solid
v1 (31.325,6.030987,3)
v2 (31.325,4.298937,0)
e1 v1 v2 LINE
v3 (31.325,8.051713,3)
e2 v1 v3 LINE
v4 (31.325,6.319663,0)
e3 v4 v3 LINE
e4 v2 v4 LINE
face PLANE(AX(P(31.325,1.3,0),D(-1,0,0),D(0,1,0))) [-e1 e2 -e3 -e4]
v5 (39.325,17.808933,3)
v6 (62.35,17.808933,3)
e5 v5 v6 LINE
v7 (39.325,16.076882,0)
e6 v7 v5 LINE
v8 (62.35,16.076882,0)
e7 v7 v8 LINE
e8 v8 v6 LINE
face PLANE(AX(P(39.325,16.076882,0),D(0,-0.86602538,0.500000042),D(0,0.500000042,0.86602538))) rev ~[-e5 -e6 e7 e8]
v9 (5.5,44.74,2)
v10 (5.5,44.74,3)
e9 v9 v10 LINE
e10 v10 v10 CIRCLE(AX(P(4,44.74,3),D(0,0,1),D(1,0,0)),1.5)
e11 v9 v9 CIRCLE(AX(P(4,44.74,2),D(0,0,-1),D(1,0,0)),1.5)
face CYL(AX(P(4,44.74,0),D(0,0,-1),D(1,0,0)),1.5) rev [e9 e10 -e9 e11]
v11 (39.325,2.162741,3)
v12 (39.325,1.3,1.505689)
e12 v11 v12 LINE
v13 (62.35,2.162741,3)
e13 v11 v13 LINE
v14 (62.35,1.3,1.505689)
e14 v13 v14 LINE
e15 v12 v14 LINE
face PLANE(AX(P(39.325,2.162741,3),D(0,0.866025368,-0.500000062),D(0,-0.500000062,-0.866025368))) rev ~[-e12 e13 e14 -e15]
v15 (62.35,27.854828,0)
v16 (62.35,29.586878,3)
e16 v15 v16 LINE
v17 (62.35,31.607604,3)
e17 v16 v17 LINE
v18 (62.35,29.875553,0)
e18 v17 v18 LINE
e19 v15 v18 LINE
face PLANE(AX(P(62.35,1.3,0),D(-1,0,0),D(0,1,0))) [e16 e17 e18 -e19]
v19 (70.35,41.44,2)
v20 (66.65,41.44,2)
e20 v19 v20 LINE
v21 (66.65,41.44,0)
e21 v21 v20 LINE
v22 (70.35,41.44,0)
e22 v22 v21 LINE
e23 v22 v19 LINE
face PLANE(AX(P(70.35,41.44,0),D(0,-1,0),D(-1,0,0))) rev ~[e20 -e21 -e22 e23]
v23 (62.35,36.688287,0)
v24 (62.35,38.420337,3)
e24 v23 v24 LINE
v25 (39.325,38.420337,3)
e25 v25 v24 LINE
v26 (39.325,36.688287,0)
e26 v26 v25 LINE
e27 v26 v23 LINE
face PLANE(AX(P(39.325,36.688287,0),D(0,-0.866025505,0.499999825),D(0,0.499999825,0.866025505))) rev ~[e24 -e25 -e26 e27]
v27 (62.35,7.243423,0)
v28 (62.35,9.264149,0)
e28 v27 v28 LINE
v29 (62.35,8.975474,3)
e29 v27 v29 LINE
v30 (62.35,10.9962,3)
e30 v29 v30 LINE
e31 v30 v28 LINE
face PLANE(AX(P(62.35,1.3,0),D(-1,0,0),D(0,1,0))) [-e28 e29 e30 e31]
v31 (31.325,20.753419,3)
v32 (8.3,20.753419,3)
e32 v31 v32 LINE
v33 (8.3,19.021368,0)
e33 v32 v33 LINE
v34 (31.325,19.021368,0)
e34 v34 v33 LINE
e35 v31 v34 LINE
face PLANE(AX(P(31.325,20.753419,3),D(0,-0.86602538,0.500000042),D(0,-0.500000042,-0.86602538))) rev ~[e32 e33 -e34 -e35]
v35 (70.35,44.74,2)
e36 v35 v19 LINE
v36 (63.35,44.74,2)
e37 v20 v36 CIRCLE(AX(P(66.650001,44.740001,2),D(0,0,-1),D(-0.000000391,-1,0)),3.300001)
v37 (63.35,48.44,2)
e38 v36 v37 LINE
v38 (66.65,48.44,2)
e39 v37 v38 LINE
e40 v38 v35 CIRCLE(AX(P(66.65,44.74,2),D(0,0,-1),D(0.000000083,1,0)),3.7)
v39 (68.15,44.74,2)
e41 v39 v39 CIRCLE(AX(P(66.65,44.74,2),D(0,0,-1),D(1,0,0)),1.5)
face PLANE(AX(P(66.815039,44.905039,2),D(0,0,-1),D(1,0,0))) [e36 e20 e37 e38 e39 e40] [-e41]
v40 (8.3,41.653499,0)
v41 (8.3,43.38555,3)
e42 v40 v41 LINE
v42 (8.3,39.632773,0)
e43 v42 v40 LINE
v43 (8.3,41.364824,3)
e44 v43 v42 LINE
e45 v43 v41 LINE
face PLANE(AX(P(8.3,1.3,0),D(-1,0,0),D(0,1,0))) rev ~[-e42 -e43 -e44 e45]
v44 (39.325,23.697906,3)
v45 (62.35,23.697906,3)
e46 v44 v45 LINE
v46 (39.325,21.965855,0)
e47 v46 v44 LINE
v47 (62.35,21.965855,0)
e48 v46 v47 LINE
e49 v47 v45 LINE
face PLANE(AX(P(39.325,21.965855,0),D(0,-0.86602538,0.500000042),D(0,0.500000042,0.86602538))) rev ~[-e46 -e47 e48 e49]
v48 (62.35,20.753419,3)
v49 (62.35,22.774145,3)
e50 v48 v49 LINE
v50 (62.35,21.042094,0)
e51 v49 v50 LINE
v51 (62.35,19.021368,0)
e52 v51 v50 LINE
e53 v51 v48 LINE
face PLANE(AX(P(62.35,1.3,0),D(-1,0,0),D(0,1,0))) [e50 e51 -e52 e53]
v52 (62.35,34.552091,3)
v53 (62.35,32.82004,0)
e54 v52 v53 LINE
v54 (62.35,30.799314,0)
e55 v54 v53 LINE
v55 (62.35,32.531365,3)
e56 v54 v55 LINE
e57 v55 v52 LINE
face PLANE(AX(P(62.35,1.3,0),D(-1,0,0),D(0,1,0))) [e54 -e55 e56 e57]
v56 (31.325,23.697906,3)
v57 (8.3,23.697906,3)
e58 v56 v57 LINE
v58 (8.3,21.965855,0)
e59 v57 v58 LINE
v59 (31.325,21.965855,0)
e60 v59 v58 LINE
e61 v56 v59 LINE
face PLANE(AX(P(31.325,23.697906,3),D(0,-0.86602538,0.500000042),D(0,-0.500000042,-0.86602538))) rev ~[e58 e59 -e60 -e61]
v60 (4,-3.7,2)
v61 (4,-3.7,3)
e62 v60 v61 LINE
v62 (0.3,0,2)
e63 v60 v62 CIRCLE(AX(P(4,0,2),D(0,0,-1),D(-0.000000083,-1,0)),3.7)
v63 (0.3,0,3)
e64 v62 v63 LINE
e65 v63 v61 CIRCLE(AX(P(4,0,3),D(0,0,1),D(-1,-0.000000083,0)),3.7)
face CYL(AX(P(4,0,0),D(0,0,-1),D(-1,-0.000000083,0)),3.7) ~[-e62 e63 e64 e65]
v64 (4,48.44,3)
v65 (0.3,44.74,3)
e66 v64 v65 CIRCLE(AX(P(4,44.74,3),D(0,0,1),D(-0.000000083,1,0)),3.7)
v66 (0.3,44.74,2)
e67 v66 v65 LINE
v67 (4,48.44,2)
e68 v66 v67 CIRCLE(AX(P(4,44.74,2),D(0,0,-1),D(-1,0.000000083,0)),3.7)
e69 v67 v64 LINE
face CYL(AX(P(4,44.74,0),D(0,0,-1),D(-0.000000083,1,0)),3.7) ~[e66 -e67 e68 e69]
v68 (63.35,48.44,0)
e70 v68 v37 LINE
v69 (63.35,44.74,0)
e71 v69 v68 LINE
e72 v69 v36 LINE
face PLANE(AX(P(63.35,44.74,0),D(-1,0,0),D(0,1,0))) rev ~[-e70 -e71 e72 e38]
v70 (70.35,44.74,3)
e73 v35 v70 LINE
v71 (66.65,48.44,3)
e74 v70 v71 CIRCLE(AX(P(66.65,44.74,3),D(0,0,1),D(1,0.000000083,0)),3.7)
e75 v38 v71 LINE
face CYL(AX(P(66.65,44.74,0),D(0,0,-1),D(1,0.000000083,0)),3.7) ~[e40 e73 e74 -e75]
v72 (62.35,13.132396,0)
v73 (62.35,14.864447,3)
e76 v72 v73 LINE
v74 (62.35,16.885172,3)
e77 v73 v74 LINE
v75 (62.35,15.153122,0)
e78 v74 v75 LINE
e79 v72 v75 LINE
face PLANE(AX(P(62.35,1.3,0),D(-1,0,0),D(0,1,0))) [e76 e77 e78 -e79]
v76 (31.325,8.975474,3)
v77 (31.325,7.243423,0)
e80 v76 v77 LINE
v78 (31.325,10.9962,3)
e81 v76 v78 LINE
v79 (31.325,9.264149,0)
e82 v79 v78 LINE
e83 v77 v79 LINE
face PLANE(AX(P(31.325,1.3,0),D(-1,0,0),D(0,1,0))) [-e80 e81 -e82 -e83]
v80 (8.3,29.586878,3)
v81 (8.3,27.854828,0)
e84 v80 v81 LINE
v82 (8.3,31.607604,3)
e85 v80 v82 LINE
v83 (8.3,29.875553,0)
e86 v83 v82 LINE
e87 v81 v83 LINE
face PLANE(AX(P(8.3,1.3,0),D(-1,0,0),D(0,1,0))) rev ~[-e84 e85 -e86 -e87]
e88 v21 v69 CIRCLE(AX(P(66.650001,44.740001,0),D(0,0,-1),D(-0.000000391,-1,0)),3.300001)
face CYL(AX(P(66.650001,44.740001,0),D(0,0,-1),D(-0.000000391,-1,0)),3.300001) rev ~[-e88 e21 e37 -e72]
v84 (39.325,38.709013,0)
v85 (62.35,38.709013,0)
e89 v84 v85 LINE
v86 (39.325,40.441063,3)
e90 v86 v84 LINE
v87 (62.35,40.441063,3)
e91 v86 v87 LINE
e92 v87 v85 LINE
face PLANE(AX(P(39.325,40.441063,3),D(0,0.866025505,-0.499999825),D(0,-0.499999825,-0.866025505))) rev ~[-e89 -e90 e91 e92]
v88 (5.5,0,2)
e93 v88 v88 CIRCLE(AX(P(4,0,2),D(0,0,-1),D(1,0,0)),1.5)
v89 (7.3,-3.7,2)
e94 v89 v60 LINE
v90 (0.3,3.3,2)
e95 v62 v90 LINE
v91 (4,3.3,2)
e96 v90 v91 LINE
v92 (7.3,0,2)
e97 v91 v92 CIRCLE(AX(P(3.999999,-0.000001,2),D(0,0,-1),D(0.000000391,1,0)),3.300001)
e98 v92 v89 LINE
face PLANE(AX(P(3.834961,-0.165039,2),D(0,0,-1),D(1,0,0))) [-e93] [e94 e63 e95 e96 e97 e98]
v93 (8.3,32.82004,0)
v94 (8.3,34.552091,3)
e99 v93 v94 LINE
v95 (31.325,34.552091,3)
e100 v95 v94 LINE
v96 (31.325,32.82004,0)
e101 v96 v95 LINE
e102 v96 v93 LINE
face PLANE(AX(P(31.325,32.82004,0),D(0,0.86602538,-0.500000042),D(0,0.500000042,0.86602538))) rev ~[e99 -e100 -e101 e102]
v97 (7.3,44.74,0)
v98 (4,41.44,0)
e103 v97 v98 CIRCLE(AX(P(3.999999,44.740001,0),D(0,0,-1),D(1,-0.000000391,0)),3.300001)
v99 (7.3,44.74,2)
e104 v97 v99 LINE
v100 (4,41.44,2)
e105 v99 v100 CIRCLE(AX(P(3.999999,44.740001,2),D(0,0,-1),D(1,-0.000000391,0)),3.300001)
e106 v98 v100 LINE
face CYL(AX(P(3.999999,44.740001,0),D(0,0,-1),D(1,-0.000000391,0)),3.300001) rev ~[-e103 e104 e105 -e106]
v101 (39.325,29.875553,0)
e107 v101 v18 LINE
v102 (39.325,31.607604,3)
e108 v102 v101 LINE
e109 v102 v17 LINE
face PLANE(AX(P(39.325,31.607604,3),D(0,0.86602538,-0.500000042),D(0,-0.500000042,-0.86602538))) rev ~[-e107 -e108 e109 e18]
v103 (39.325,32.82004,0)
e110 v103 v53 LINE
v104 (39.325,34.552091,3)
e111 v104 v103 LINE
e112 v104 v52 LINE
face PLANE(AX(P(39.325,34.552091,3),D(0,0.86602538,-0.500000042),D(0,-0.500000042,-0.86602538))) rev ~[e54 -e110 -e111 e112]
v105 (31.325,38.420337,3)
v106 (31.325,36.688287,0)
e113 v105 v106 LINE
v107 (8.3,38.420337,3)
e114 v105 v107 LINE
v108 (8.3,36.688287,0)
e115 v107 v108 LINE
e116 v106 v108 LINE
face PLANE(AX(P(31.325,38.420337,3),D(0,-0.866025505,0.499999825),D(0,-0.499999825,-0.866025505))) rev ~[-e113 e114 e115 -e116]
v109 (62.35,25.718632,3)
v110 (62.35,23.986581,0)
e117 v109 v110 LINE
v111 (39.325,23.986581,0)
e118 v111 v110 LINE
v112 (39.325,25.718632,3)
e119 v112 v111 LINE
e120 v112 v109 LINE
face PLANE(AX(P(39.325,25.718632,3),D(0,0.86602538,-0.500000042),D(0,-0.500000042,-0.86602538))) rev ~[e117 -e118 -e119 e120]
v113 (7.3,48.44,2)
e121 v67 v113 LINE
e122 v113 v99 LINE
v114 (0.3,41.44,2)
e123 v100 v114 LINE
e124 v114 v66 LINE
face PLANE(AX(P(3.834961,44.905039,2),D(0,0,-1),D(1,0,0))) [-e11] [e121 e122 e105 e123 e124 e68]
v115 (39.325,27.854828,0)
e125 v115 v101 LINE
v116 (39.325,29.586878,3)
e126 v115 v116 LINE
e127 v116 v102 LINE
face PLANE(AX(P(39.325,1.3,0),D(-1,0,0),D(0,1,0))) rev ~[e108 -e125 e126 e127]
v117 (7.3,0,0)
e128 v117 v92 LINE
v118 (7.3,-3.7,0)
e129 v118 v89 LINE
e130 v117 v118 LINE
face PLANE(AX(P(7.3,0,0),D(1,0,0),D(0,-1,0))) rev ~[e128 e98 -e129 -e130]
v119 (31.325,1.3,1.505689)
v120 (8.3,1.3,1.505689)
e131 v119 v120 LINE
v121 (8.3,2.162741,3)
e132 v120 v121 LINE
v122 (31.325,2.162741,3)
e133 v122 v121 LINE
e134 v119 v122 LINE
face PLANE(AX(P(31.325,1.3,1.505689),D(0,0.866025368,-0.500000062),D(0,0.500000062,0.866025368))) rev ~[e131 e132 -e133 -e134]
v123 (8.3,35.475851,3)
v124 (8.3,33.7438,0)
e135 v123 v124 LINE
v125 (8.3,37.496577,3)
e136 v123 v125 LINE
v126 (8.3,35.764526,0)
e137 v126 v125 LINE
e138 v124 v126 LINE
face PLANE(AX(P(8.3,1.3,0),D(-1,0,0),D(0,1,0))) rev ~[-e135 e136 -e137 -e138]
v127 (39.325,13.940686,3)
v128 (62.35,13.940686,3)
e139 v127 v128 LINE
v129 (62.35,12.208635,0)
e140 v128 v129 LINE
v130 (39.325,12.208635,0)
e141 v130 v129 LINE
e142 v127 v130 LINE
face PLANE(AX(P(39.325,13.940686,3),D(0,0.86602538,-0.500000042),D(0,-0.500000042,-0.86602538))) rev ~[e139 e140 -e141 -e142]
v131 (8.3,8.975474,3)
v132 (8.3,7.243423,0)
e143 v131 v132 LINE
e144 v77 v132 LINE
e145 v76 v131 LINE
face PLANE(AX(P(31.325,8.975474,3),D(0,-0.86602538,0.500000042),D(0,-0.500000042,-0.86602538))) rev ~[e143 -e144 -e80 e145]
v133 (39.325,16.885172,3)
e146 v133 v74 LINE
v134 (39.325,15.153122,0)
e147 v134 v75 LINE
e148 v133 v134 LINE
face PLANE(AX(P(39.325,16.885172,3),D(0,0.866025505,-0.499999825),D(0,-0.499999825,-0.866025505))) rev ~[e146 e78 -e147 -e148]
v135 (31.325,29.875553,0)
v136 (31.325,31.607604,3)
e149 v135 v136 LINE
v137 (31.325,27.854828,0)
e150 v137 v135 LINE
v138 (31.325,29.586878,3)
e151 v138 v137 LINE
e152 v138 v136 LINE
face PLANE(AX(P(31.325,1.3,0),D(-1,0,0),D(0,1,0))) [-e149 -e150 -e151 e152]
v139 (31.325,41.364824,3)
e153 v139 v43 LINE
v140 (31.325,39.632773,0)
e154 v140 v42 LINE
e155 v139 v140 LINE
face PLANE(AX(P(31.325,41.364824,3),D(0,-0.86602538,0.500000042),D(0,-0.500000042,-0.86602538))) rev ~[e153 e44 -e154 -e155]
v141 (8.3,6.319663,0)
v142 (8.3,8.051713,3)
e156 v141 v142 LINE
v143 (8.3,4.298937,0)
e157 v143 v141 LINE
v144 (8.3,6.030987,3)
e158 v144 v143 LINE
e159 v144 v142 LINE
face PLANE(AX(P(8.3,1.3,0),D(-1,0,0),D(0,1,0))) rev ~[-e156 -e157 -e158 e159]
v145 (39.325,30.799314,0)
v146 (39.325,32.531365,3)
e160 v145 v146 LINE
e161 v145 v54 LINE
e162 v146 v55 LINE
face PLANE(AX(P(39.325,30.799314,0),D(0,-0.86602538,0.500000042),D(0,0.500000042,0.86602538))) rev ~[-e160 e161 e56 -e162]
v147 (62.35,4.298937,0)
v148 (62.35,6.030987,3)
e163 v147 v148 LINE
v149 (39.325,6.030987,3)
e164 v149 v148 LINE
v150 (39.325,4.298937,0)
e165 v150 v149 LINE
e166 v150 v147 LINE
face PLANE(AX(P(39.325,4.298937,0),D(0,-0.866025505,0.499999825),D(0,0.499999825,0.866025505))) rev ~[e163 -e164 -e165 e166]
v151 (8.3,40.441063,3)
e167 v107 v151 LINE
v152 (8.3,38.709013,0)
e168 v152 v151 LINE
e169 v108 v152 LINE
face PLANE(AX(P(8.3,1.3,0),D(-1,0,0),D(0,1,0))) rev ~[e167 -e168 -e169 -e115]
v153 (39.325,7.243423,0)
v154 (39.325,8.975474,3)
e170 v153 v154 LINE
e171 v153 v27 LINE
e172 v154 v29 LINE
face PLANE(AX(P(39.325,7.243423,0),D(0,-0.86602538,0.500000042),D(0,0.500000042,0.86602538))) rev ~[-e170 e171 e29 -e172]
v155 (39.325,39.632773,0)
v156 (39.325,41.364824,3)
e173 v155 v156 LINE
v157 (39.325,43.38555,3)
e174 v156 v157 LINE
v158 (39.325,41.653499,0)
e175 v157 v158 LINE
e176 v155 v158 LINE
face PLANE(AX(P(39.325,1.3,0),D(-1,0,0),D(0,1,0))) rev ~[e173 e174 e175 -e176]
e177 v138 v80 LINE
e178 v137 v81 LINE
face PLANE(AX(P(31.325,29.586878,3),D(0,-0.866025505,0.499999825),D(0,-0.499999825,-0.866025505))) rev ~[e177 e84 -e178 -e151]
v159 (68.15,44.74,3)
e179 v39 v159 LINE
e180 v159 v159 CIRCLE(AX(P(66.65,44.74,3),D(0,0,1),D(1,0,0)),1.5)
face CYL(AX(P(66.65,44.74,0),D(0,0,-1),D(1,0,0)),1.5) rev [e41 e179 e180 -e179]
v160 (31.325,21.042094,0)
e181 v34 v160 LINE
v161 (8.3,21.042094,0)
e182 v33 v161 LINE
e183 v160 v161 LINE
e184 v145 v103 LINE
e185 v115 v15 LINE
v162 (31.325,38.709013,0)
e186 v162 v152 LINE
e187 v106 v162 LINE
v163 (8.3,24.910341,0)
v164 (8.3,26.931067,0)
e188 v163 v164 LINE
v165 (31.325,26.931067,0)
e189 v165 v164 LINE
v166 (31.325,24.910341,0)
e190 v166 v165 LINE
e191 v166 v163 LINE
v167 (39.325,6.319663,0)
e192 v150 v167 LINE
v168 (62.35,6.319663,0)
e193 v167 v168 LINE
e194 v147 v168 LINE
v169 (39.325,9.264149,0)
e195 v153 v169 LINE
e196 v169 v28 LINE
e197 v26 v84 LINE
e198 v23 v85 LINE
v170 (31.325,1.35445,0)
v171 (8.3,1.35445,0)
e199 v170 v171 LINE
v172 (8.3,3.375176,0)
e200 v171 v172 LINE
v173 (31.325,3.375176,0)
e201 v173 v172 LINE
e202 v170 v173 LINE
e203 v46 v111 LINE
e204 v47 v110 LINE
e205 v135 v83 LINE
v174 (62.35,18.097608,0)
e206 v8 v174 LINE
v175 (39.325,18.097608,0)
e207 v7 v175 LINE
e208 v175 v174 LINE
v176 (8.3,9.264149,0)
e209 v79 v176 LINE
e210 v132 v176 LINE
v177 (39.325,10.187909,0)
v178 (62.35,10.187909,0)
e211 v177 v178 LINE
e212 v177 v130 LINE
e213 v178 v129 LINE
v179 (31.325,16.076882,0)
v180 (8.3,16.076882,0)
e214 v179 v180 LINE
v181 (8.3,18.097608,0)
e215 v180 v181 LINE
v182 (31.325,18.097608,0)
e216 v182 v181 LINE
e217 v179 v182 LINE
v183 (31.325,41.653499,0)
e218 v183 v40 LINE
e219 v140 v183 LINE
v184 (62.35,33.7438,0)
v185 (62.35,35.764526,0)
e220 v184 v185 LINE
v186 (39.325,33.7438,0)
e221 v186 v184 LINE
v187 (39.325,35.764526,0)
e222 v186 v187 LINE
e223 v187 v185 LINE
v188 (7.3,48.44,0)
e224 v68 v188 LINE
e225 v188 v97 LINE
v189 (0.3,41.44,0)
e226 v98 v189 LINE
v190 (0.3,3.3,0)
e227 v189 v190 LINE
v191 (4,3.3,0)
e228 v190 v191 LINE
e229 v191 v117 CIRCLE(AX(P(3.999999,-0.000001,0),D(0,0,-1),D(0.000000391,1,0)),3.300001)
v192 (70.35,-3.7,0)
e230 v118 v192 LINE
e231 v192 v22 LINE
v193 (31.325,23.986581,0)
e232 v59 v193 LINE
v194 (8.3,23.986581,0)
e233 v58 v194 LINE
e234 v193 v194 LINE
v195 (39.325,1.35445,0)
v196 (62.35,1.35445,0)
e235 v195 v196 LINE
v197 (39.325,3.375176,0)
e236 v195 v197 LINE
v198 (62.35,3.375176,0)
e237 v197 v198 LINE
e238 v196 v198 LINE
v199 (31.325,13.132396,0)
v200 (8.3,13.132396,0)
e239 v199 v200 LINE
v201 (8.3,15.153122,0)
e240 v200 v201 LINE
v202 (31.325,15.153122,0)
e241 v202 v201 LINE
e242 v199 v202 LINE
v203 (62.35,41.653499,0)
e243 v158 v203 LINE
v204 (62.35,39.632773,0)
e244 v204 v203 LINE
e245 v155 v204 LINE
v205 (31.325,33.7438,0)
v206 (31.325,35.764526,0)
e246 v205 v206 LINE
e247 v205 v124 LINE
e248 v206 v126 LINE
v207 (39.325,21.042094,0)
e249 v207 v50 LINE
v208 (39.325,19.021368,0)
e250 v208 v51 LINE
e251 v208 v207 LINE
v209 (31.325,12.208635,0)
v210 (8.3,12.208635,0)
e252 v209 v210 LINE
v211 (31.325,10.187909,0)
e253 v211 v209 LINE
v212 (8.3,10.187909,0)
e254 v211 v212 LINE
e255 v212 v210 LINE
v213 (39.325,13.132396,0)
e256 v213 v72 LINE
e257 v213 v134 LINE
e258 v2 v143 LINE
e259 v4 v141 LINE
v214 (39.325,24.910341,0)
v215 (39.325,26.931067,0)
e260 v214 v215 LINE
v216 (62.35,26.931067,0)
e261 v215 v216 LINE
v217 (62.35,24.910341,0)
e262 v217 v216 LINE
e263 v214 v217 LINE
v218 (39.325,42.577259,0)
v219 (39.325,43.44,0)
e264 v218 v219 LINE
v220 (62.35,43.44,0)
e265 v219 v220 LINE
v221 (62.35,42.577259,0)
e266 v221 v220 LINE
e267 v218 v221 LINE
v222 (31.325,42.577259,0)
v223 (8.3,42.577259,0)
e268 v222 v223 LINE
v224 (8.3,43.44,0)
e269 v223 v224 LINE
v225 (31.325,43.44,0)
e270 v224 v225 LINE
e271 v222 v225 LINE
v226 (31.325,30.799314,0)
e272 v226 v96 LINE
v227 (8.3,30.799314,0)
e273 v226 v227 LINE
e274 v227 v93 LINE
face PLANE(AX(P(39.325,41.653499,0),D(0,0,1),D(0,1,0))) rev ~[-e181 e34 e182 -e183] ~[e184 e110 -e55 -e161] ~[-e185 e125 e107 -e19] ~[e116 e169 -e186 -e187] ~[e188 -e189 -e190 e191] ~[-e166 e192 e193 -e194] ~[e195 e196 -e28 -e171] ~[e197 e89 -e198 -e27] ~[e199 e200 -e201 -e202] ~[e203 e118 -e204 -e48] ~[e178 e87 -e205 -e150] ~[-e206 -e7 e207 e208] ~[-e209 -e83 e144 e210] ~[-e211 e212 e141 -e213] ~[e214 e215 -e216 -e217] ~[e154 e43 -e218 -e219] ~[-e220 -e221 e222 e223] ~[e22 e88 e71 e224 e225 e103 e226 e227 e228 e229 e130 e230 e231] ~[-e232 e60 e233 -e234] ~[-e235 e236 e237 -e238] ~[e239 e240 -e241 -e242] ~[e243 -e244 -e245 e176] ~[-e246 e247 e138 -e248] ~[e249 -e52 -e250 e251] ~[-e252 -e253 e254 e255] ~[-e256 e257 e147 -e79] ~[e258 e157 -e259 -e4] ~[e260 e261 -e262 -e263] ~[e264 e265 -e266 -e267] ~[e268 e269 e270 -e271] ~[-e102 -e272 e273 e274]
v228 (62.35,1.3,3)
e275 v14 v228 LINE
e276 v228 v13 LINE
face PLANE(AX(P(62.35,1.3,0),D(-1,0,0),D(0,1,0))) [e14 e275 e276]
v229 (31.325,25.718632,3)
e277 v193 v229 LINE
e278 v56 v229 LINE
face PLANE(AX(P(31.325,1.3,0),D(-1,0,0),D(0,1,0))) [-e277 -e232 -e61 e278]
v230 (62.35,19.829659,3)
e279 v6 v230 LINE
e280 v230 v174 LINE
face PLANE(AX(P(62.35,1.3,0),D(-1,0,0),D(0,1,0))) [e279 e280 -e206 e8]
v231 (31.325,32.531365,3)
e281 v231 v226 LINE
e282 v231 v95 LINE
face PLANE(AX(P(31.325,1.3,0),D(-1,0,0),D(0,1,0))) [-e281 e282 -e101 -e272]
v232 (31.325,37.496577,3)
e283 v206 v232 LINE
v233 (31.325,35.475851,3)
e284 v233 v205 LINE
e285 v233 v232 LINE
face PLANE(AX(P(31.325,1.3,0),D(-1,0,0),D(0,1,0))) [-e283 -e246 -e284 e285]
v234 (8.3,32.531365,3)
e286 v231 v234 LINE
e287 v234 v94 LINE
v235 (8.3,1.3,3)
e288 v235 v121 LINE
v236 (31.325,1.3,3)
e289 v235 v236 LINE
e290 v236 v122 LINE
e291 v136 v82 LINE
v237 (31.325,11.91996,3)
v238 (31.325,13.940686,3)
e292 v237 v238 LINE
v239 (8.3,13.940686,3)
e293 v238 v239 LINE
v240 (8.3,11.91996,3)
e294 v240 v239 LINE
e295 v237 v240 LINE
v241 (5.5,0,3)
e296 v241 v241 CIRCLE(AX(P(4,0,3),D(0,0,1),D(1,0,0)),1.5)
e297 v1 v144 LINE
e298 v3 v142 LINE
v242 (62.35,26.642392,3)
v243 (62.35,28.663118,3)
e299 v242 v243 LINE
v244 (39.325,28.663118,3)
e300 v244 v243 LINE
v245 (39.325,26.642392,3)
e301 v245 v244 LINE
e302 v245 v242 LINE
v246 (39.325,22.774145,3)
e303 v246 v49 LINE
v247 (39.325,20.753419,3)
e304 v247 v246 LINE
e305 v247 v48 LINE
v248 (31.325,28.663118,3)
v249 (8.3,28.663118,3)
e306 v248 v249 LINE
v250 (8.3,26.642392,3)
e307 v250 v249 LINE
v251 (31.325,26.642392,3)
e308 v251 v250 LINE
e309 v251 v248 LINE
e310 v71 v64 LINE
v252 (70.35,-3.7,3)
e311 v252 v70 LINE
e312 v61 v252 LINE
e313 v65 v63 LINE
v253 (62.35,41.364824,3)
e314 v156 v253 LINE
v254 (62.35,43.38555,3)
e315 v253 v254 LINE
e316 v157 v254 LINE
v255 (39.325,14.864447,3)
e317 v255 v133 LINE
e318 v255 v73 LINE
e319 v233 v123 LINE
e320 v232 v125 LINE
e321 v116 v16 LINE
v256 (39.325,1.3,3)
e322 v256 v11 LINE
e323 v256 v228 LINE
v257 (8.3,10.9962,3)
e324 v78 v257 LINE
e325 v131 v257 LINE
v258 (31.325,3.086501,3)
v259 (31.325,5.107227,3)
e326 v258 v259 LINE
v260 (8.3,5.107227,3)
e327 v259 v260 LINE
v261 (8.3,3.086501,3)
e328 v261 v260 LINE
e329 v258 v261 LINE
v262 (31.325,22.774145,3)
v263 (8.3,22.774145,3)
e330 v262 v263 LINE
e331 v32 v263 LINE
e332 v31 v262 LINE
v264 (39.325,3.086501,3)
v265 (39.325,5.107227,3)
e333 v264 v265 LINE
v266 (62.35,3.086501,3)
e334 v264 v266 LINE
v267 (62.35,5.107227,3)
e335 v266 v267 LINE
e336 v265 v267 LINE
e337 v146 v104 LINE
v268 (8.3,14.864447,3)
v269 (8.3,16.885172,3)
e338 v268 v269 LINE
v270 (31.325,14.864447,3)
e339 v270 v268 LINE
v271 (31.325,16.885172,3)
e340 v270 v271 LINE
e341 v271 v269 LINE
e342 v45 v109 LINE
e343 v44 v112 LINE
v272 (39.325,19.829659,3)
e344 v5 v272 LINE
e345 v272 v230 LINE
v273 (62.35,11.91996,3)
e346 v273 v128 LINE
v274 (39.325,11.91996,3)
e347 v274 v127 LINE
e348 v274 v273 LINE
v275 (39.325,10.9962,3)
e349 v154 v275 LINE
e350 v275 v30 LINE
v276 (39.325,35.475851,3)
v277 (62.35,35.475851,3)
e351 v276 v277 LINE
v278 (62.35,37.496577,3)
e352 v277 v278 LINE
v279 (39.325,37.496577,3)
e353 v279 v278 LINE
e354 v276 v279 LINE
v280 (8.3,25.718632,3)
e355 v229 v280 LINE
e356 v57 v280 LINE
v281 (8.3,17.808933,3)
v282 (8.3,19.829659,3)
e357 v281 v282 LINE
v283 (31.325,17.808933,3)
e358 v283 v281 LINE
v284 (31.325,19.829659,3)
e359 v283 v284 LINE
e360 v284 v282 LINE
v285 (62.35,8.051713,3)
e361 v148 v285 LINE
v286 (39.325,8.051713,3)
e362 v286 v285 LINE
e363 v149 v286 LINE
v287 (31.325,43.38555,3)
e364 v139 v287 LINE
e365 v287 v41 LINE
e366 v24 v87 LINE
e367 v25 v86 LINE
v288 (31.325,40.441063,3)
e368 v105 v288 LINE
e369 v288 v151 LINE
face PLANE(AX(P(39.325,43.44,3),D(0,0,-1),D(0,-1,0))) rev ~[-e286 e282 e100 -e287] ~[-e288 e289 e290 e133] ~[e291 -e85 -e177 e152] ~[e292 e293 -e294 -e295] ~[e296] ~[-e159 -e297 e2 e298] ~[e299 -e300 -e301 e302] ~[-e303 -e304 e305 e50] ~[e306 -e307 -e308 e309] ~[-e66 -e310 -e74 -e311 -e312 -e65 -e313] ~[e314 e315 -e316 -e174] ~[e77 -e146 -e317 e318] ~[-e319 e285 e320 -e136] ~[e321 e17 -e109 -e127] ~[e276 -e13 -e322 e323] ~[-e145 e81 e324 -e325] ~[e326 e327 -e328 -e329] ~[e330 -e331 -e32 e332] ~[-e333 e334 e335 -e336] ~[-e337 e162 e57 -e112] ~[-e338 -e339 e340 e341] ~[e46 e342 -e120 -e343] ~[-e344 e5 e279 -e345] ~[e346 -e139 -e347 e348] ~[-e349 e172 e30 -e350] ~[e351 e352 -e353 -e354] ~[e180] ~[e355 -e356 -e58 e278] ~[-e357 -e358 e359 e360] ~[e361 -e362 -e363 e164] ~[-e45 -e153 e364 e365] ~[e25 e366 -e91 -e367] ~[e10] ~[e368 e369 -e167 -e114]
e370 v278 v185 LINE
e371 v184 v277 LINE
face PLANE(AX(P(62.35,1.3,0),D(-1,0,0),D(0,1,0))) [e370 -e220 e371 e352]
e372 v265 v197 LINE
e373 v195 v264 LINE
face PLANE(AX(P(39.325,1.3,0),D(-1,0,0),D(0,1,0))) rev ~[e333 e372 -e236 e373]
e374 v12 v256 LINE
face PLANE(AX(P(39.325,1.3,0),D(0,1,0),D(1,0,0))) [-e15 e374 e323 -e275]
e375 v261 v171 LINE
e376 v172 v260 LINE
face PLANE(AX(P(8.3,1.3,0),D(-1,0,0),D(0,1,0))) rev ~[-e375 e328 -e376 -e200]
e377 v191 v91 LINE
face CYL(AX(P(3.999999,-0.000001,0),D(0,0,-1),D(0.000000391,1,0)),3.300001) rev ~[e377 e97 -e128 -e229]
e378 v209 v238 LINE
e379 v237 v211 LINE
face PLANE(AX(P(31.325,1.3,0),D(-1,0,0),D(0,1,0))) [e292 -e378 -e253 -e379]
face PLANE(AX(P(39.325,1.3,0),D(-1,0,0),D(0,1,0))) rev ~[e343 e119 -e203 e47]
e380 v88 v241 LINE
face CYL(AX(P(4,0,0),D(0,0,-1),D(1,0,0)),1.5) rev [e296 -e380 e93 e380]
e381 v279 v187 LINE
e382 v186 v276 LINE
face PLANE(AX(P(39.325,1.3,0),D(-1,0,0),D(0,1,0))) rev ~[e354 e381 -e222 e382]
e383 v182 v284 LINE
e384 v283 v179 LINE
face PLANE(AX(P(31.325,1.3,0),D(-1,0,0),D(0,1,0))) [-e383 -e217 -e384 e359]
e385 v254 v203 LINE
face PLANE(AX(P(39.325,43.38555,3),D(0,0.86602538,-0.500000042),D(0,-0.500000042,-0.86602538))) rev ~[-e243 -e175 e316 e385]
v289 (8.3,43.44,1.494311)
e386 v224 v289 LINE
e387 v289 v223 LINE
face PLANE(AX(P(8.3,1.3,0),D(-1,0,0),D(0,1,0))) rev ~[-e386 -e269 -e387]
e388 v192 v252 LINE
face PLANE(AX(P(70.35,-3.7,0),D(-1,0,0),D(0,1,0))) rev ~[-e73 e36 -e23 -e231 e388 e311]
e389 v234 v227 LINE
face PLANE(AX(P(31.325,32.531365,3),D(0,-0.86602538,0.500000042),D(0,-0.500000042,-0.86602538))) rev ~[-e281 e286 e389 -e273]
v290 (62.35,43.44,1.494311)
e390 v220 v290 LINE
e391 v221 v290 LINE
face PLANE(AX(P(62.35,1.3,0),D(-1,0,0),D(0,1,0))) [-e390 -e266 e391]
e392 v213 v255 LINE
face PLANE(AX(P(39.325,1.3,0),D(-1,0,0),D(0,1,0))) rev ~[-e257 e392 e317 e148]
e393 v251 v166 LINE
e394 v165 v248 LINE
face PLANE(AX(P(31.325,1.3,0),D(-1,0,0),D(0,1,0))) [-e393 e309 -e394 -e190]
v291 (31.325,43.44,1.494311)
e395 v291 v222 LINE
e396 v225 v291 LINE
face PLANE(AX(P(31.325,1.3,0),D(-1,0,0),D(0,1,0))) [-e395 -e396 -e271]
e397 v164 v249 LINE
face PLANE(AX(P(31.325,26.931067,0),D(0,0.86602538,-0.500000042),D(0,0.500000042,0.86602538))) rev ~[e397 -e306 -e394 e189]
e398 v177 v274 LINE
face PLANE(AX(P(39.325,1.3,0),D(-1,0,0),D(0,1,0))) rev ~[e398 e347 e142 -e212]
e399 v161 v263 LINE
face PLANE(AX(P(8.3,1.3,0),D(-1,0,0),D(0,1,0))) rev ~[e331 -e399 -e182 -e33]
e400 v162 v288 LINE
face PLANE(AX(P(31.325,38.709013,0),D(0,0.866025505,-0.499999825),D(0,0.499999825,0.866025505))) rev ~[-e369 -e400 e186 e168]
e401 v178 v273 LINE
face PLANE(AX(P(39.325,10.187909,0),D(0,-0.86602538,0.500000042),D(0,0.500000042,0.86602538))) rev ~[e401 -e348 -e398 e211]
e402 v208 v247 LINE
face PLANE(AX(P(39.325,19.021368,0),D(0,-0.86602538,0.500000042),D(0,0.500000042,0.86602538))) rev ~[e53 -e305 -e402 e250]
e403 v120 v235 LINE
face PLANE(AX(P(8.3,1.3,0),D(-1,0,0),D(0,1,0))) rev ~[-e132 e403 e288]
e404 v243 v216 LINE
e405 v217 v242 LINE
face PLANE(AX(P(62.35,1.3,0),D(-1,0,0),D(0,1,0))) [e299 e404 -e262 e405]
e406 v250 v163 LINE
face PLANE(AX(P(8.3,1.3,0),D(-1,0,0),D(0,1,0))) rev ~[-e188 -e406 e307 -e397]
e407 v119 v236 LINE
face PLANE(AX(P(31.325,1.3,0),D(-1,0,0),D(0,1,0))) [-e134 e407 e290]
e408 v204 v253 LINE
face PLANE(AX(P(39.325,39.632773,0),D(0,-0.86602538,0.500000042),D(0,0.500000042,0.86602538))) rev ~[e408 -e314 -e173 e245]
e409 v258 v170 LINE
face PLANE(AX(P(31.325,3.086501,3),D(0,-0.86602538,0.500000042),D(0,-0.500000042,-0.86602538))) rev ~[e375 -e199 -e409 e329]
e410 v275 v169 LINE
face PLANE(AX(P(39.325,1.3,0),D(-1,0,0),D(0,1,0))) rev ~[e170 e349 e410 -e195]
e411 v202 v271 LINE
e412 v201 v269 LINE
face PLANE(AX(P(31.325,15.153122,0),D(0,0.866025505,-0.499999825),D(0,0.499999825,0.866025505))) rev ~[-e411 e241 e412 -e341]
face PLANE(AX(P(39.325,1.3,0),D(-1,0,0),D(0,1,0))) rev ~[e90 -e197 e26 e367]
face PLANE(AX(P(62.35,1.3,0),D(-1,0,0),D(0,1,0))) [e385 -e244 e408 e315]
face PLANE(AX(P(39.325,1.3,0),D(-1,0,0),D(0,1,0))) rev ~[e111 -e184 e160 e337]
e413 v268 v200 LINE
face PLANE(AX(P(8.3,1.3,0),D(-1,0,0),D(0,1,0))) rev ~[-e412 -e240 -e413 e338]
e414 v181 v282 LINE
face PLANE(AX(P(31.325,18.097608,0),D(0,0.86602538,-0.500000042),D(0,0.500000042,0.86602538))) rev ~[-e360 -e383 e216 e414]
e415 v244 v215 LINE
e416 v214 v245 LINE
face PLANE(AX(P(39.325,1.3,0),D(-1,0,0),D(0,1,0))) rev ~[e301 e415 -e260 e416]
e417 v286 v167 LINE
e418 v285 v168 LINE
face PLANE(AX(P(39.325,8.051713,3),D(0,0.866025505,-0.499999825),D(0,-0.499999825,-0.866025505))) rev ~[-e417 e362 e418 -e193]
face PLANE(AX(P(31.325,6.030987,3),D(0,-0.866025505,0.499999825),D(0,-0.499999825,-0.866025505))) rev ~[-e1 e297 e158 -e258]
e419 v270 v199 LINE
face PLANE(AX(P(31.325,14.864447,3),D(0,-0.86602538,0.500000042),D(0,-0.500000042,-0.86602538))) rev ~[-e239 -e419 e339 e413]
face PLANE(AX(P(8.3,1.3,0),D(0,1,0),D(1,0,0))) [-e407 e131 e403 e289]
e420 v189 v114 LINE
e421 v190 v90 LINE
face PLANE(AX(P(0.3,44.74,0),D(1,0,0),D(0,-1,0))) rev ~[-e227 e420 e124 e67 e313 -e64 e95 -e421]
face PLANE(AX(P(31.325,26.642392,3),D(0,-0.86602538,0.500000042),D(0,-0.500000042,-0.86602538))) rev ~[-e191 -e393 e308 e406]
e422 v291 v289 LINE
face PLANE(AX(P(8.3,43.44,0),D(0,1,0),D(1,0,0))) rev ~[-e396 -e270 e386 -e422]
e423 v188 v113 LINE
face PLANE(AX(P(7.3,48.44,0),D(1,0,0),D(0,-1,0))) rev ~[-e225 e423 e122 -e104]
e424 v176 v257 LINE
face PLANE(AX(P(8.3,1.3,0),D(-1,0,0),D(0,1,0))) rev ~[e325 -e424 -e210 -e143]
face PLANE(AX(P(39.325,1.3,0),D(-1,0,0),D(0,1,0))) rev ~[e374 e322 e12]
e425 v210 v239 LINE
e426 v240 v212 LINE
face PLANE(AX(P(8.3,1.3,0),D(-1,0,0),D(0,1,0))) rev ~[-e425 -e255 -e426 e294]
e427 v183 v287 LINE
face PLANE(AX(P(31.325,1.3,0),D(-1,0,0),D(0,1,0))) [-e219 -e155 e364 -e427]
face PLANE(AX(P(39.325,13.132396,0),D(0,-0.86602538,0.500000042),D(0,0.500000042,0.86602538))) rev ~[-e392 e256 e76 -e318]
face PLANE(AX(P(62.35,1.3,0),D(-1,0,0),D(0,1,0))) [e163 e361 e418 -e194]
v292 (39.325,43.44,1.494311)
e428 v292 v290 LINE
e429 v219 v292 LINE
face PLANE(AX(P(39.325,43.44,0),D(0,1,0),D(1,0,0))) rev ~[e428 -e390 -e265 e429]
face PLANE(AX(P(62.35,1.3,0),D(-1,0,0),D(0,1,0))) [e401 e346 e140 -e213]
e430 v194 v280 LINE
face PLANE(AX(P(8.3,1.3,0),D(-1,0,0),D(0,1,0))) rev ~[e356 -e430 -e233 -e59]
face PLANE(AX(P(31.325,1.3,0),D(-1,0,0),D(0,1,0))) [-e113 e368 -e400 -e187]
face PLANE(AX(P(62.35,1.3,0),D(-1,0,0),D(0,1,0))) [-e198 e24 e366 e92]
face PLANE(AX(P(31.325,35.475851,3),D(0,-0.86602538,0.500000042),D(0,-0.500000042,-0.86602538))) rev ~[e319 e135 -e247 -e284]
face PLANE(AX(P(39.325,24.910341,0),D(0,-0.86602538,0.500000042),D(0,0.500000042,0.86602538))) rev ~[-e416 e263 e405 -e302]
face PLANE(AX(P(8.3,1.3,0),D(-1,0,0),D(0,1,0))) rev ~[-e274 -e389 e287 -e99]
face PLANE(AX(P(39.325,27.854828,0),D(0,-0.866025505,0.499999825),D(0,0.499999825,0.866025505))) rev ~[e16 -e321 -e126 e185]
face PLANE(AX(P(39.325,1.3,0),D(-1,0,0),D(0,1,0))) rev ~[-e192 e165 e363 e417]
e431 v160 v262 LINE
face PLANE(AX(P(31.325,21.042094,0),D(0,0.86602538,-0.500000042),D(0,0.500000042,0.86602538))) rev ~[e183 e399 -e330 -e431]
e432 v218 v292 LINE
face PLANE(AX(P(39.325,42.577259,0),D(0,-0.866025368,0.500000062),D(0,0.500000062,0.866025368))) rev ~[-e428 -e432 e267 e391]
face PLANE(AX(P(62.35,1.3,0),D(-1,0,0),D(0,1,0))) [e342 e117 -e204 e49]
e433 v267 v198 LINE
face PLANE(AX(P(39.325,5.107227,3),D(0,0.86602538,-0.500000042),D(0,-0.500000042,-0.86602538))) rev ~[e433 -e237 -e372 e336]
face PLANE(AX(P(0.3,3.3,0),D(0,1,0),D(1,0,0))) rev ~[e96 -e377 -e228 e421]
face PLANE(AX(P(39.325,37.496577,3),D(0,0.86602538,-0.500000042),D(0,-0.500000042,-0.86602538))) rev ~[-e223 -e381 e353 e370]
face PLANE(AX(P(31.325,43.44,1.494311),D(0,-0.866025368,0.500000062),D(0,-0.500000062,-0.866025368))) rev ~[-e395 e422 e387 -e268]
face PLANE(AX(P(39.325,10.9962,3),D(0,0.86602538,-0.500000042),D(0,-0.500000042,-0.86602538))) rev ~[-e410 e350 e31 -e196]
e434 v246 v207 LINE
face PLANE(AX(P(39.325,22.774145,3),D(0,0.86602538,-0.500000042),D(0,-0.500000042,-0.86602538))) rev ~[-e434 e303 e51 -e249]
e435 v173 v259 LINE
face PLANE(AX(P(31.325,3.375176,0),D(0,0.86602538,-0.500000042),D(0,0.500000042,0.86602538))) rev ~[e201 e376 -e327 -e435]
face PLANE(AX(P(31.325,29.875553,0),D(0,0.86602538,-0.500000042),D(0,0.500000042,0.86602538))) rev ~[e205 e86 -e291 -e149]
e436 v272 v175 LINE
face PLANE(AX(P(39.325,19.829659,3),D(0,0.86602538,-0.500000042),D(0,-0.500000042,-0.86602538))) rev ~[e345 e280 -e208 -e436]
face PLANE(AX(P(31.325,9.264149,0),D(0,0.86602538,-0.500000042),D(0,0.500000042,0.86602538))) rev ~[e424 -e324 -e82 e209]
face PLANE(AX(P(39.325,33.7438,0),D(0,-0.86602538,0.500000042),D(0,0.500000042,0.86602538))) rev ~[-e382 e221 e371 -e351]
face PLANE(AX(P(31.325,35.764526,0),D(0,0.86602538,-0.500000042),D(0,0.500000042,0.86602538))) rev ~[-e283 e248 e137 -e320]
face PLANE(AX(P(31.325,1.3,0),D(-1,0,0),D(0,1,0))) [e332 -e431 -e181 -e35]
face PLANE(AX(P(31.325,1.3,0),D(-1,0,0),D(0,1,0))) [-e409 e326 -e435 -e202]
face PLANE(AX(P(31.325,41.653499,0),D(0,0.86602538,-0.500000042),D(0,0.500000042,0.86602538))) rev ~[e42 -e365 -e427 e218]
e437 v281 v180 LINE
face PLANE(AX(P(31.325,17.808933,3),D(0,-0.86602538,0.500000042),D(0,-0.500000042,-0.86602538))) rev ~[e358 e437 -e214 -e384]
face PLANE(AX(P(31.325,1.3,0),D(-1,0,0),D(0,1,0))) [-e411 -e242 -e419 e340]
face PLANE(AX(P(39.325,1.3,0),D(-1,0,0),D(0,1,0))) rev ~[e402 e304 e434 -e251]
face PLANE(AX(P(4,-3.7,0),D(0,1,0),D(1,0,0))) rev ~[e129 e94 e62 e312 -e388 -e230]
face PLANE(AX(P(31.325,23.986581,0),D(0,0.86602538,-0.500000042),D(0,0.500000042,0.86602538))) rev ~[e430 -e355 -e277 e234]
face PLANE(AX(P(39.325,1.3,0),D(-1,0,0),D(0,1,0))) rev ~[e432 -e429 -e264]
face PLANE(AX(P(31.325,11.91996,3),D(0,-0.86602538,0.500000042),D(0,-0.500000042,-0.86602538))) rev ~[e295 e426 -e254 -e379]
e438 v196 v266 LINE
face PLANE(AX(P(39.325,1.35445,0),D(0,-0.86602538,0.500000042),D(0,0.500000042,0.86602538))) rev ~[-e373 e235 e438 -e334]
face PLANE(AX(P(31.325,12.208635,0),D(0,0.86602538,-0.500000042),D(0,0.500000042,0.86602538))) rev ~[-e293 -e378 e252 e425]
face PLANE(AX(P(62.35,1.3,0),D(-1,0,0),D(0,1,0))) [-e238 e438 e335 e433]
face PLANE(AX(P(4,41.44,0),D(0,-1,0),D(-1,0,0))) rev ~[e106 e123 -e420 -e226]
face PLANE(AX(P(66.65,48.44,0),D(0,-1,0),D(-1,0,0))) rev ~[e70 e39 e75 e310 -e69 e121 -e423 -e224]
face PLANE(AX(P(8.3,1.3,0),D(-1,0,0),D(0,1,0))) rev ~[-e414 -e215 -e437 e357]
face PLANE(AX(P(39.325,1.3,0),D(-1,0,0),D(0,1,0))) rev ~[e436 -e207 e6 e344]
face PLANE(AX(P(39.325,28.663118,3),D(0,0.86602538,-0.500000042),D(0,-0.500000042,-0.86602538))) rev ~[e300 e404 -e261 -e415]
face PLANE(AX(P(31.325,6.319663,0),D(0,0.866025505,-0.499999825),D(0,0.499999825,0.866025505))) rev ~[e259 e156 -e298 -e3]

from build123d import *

# Parameters (mm, degrees)
F1_R     = 1.5
F1_W     = 23.025
F1_H     = 42.14
F2_DEPTH = 3
F4_DEPTH = 23.025
F6_DEPTH = 23.025
F8_DEPTH = 2


with BuildPart() as f2:
    # F1 (on Top) → F2 (new body)
    with BuildSketch(Plane.XY):
        with BuildLine():
            ThreePointArc((4, 48.44), (1.383705, 47.356295), (0.3, 44.74))
            Line((0.3, 44.74), (0.3, 0))
            ThreePointArc((0.3, 0), (1.383705, -2.616295), (4, -3.7))
            Line((4, -3.7), (70.35, -3.7))
            Line((70.35, -3.7), (70.35, 44.74))
            ThreePointArc((70.35, 44.74), (69.266295, 47.356295), (66.65, 48.44))
            Line((66.65, 48.44), (4, 48.44))
        make_face()
        with Locations((4, 0)):
            Circle(F1_R, mode=Mode.SUBTRACT)
        with Locations((19.8125, 22.37)):
            Rectangle(F1_W, F1_H, mode=Mode.SUBTRACT)
        with Locations((4, 44.74)):
            Circle(F1_R, mode=Mode.SUBTRACT)
        with Locations((50.8375, 22.37)):
            Rectangle(F1_W, F1_H, mode=Mode.SUBTRACT)
        with Locations((66.65, 44.74)):
            Circle(F1_R, mode=Mode.SUBTRACT)
    extrude(amount=F2_DEPTH)

    # F3 (on face) → F4 (join)
    with BuildSketch(Plane(origin=(31.325, 0, 0), x_dir=(0, -1, 0), z_dir=(-1, 0, 0))):
        Polygon((-22.774145, 3), (-23.697906, 3), (-21.965855, 0), (-21.042094, 0), align=None)
        Polygon((-19.829659, 3), (-20.753419, 3), (-19.021368, 0), (-18.097608, 0), align=None)
        Polygon((-16.885172, 3), (-17.808933, 3), (-16.076882, 0), (-15.153122, 0), align=None)
        Polygon((-13.940686, 3), (-14.864447, 3), (-13.132396, 0), (-12.208635, 0), align=None)
        Polygon((-10.9962, 3), (-11.91996, 3), (-10.187909, 0), (-9.264149, 0), align=None)
        Polygon((-8.051713, 3), (-8.975474, 3), (-7.243423, 0), (-6.319663, 0), align=None)
        Polygon((-5.107227, 3), (-6.030987, 3), (-4.298937, 0), (-3.375176, 0), align=None)
        Polygon((-3.086501, 3), (-1.35445, 0), (-1.3, 0), (-1.3, 1.505689), (-2.162741, 3), align=None)
        Polygon((-23.986581, 0), (-25.718632, 3), (-26.642392, 3), (-24.910341, 0), align=None)
        Polygon((-26.931067, 0), (-28.663118, 3), (-29.586878, 3), (-27.854828, 0), align=None)
        Polygon((-29.875553, 0), (-31.607604, 3), (-32.531365, 3), (-30.799314, 0), align=None)
        Polygon((-32.82004, 0), (-34.552091, 3), (-35.475851, 3), (-33.7438, 0), align=None)
        Polygon((-37.496577, 3), (-38.420337, 3), (-36.688287, 0), (-35.764526, 0), align=None)
        Polygon((-38.709013, 0), (-40.441063, 3), (-41.364824, 3), (-39.632773, 0), align=None)
        Polygon((-42.577259, 0), (-41.653499, 0), (-43.38555, 3), (-43.44, 3), (-43.44, 1.494311), align=None)
    extrude(amount=F4_DEPTH)

    # F5 (on face) → F6 (join)
    with BuildSketch(Plane.YZ.offset(39.325)):
        Polygon((23.697906, 3), (22.774145, 3), (21.042094, 0), (21.965855, 0), align=None)
        Polygon((26.642392, 3), (25.718632, 3), (23.986581, 0), (24.910341, 0), align=None)
        Polygon((29.586878, 3), (28.663118, 3), (26.931067, 0), (27.854828, 0), align=None)
        Polygon((32.531365, 3), (31.607604, 3), (29.875553, 0), (30.799314, 0), align=None)
        Polygon((35.475851, 3), (34.552091, 3), (32.82004, 0), (33.7438, 0), align=None)
        Polygon((38.420337, 3), (37.496577, 3), (35.764526, 0), (36.688287, 0), align=None)
        Polygon((41.364824, 3), (40.441063, 3), (38.709013, 0), (39.632773, 0), align=None)
        Polygon((43.44, 1.494311), (43.44, 3), (43.38555, 3), (41.653499, 0), (42.577259, 0), align=None)
        Polygon((19.021368, 0), (20.753419, 3), (19.829659, 3), (18.097608, 0), align=None)
        Polygon((16.076882, 0), (17.808933, 3), (16.885172, 3), (15.153122, 0), align=None)
        Polygon((13.132396, 0), (14.864447, 3), (13.940686, 3), (12.208635, 0), align=None)
        Polygon((10.187909, 0), (11.91996, 3), (10.9962, 3), (9.264149, 0), align=None)
        Polygon((7.243423, 0), (8.975474, 3), (8.051713, 3), (6.319663, 0), align=None)
        Polygon((4.298937, 0), (6.030987, 3), (5.107227, 3), (3.375176, 0), align=None)
        Polygon((1.3, 1.505689), (1.3, 0), (1.35445, 0), (3.086501, 3), (2.162741, 3), align=None)
    extrude(amount=F6_DEPTH)

    # F7 (on face) → F8 (cut)
    with BuildSketch(Plane(origin=(0, 0, 0), x_dir=(1, 0, 0), z_dir=(0, 0, -1))):
        with BuildLine():
            Line((7.3, 0), (7.3, 3.7))
            Line((7.3, 3.7), (4, 3.7))
            ThreePointArc((4, 3.7), (1.383705, 2.616295), (0.3, 0))
            Line((0.3, 0), (0.3, -3.3))
            Line((0.3, -3.3), (4, -3.3))
            ThreePointArc((4, -3.3), (6.333452, -2.333452), (7.3, 0))
        make_face()
        with BuildLine():
            Line((0.3, -41.44), (0.3, -44.74))
            ThreePointArc((0.3, -44.74), (1.383705, -47.356295), (4, -48.44))
            Line((4, -48.44), (7.3, -48.44))
            Line((7.3, -48.44), (7.3, -44.74))
            ThreePointArc((7.3, -44.74), (6.333452, -42.406548), (4, -41.44))
            Line((4, -41.44), (0.3, -41.44))
        make_face()
        with BuildLine():
            Line((63.35, -48.44), (66.65, -48.44))
            ThreePointArc((66.65, -48.44), (69.266295, -47.356295), (70.35, -44.74))
            Line((70.35, -44.74), (70.35, -41.44))
            Line((70.35, -41.44), (66.65, -41.44))
            ThreePointArc((66.65, -41.44), (64.316548, -42.406548), (63.35, -44.74))
            Line((63.35, -44.74), (63.35, -48.44))
        make_face()
    extrude(amount=-F8_DEPTH, mode=Mode.SUBTRACT)


solid = f2.part
